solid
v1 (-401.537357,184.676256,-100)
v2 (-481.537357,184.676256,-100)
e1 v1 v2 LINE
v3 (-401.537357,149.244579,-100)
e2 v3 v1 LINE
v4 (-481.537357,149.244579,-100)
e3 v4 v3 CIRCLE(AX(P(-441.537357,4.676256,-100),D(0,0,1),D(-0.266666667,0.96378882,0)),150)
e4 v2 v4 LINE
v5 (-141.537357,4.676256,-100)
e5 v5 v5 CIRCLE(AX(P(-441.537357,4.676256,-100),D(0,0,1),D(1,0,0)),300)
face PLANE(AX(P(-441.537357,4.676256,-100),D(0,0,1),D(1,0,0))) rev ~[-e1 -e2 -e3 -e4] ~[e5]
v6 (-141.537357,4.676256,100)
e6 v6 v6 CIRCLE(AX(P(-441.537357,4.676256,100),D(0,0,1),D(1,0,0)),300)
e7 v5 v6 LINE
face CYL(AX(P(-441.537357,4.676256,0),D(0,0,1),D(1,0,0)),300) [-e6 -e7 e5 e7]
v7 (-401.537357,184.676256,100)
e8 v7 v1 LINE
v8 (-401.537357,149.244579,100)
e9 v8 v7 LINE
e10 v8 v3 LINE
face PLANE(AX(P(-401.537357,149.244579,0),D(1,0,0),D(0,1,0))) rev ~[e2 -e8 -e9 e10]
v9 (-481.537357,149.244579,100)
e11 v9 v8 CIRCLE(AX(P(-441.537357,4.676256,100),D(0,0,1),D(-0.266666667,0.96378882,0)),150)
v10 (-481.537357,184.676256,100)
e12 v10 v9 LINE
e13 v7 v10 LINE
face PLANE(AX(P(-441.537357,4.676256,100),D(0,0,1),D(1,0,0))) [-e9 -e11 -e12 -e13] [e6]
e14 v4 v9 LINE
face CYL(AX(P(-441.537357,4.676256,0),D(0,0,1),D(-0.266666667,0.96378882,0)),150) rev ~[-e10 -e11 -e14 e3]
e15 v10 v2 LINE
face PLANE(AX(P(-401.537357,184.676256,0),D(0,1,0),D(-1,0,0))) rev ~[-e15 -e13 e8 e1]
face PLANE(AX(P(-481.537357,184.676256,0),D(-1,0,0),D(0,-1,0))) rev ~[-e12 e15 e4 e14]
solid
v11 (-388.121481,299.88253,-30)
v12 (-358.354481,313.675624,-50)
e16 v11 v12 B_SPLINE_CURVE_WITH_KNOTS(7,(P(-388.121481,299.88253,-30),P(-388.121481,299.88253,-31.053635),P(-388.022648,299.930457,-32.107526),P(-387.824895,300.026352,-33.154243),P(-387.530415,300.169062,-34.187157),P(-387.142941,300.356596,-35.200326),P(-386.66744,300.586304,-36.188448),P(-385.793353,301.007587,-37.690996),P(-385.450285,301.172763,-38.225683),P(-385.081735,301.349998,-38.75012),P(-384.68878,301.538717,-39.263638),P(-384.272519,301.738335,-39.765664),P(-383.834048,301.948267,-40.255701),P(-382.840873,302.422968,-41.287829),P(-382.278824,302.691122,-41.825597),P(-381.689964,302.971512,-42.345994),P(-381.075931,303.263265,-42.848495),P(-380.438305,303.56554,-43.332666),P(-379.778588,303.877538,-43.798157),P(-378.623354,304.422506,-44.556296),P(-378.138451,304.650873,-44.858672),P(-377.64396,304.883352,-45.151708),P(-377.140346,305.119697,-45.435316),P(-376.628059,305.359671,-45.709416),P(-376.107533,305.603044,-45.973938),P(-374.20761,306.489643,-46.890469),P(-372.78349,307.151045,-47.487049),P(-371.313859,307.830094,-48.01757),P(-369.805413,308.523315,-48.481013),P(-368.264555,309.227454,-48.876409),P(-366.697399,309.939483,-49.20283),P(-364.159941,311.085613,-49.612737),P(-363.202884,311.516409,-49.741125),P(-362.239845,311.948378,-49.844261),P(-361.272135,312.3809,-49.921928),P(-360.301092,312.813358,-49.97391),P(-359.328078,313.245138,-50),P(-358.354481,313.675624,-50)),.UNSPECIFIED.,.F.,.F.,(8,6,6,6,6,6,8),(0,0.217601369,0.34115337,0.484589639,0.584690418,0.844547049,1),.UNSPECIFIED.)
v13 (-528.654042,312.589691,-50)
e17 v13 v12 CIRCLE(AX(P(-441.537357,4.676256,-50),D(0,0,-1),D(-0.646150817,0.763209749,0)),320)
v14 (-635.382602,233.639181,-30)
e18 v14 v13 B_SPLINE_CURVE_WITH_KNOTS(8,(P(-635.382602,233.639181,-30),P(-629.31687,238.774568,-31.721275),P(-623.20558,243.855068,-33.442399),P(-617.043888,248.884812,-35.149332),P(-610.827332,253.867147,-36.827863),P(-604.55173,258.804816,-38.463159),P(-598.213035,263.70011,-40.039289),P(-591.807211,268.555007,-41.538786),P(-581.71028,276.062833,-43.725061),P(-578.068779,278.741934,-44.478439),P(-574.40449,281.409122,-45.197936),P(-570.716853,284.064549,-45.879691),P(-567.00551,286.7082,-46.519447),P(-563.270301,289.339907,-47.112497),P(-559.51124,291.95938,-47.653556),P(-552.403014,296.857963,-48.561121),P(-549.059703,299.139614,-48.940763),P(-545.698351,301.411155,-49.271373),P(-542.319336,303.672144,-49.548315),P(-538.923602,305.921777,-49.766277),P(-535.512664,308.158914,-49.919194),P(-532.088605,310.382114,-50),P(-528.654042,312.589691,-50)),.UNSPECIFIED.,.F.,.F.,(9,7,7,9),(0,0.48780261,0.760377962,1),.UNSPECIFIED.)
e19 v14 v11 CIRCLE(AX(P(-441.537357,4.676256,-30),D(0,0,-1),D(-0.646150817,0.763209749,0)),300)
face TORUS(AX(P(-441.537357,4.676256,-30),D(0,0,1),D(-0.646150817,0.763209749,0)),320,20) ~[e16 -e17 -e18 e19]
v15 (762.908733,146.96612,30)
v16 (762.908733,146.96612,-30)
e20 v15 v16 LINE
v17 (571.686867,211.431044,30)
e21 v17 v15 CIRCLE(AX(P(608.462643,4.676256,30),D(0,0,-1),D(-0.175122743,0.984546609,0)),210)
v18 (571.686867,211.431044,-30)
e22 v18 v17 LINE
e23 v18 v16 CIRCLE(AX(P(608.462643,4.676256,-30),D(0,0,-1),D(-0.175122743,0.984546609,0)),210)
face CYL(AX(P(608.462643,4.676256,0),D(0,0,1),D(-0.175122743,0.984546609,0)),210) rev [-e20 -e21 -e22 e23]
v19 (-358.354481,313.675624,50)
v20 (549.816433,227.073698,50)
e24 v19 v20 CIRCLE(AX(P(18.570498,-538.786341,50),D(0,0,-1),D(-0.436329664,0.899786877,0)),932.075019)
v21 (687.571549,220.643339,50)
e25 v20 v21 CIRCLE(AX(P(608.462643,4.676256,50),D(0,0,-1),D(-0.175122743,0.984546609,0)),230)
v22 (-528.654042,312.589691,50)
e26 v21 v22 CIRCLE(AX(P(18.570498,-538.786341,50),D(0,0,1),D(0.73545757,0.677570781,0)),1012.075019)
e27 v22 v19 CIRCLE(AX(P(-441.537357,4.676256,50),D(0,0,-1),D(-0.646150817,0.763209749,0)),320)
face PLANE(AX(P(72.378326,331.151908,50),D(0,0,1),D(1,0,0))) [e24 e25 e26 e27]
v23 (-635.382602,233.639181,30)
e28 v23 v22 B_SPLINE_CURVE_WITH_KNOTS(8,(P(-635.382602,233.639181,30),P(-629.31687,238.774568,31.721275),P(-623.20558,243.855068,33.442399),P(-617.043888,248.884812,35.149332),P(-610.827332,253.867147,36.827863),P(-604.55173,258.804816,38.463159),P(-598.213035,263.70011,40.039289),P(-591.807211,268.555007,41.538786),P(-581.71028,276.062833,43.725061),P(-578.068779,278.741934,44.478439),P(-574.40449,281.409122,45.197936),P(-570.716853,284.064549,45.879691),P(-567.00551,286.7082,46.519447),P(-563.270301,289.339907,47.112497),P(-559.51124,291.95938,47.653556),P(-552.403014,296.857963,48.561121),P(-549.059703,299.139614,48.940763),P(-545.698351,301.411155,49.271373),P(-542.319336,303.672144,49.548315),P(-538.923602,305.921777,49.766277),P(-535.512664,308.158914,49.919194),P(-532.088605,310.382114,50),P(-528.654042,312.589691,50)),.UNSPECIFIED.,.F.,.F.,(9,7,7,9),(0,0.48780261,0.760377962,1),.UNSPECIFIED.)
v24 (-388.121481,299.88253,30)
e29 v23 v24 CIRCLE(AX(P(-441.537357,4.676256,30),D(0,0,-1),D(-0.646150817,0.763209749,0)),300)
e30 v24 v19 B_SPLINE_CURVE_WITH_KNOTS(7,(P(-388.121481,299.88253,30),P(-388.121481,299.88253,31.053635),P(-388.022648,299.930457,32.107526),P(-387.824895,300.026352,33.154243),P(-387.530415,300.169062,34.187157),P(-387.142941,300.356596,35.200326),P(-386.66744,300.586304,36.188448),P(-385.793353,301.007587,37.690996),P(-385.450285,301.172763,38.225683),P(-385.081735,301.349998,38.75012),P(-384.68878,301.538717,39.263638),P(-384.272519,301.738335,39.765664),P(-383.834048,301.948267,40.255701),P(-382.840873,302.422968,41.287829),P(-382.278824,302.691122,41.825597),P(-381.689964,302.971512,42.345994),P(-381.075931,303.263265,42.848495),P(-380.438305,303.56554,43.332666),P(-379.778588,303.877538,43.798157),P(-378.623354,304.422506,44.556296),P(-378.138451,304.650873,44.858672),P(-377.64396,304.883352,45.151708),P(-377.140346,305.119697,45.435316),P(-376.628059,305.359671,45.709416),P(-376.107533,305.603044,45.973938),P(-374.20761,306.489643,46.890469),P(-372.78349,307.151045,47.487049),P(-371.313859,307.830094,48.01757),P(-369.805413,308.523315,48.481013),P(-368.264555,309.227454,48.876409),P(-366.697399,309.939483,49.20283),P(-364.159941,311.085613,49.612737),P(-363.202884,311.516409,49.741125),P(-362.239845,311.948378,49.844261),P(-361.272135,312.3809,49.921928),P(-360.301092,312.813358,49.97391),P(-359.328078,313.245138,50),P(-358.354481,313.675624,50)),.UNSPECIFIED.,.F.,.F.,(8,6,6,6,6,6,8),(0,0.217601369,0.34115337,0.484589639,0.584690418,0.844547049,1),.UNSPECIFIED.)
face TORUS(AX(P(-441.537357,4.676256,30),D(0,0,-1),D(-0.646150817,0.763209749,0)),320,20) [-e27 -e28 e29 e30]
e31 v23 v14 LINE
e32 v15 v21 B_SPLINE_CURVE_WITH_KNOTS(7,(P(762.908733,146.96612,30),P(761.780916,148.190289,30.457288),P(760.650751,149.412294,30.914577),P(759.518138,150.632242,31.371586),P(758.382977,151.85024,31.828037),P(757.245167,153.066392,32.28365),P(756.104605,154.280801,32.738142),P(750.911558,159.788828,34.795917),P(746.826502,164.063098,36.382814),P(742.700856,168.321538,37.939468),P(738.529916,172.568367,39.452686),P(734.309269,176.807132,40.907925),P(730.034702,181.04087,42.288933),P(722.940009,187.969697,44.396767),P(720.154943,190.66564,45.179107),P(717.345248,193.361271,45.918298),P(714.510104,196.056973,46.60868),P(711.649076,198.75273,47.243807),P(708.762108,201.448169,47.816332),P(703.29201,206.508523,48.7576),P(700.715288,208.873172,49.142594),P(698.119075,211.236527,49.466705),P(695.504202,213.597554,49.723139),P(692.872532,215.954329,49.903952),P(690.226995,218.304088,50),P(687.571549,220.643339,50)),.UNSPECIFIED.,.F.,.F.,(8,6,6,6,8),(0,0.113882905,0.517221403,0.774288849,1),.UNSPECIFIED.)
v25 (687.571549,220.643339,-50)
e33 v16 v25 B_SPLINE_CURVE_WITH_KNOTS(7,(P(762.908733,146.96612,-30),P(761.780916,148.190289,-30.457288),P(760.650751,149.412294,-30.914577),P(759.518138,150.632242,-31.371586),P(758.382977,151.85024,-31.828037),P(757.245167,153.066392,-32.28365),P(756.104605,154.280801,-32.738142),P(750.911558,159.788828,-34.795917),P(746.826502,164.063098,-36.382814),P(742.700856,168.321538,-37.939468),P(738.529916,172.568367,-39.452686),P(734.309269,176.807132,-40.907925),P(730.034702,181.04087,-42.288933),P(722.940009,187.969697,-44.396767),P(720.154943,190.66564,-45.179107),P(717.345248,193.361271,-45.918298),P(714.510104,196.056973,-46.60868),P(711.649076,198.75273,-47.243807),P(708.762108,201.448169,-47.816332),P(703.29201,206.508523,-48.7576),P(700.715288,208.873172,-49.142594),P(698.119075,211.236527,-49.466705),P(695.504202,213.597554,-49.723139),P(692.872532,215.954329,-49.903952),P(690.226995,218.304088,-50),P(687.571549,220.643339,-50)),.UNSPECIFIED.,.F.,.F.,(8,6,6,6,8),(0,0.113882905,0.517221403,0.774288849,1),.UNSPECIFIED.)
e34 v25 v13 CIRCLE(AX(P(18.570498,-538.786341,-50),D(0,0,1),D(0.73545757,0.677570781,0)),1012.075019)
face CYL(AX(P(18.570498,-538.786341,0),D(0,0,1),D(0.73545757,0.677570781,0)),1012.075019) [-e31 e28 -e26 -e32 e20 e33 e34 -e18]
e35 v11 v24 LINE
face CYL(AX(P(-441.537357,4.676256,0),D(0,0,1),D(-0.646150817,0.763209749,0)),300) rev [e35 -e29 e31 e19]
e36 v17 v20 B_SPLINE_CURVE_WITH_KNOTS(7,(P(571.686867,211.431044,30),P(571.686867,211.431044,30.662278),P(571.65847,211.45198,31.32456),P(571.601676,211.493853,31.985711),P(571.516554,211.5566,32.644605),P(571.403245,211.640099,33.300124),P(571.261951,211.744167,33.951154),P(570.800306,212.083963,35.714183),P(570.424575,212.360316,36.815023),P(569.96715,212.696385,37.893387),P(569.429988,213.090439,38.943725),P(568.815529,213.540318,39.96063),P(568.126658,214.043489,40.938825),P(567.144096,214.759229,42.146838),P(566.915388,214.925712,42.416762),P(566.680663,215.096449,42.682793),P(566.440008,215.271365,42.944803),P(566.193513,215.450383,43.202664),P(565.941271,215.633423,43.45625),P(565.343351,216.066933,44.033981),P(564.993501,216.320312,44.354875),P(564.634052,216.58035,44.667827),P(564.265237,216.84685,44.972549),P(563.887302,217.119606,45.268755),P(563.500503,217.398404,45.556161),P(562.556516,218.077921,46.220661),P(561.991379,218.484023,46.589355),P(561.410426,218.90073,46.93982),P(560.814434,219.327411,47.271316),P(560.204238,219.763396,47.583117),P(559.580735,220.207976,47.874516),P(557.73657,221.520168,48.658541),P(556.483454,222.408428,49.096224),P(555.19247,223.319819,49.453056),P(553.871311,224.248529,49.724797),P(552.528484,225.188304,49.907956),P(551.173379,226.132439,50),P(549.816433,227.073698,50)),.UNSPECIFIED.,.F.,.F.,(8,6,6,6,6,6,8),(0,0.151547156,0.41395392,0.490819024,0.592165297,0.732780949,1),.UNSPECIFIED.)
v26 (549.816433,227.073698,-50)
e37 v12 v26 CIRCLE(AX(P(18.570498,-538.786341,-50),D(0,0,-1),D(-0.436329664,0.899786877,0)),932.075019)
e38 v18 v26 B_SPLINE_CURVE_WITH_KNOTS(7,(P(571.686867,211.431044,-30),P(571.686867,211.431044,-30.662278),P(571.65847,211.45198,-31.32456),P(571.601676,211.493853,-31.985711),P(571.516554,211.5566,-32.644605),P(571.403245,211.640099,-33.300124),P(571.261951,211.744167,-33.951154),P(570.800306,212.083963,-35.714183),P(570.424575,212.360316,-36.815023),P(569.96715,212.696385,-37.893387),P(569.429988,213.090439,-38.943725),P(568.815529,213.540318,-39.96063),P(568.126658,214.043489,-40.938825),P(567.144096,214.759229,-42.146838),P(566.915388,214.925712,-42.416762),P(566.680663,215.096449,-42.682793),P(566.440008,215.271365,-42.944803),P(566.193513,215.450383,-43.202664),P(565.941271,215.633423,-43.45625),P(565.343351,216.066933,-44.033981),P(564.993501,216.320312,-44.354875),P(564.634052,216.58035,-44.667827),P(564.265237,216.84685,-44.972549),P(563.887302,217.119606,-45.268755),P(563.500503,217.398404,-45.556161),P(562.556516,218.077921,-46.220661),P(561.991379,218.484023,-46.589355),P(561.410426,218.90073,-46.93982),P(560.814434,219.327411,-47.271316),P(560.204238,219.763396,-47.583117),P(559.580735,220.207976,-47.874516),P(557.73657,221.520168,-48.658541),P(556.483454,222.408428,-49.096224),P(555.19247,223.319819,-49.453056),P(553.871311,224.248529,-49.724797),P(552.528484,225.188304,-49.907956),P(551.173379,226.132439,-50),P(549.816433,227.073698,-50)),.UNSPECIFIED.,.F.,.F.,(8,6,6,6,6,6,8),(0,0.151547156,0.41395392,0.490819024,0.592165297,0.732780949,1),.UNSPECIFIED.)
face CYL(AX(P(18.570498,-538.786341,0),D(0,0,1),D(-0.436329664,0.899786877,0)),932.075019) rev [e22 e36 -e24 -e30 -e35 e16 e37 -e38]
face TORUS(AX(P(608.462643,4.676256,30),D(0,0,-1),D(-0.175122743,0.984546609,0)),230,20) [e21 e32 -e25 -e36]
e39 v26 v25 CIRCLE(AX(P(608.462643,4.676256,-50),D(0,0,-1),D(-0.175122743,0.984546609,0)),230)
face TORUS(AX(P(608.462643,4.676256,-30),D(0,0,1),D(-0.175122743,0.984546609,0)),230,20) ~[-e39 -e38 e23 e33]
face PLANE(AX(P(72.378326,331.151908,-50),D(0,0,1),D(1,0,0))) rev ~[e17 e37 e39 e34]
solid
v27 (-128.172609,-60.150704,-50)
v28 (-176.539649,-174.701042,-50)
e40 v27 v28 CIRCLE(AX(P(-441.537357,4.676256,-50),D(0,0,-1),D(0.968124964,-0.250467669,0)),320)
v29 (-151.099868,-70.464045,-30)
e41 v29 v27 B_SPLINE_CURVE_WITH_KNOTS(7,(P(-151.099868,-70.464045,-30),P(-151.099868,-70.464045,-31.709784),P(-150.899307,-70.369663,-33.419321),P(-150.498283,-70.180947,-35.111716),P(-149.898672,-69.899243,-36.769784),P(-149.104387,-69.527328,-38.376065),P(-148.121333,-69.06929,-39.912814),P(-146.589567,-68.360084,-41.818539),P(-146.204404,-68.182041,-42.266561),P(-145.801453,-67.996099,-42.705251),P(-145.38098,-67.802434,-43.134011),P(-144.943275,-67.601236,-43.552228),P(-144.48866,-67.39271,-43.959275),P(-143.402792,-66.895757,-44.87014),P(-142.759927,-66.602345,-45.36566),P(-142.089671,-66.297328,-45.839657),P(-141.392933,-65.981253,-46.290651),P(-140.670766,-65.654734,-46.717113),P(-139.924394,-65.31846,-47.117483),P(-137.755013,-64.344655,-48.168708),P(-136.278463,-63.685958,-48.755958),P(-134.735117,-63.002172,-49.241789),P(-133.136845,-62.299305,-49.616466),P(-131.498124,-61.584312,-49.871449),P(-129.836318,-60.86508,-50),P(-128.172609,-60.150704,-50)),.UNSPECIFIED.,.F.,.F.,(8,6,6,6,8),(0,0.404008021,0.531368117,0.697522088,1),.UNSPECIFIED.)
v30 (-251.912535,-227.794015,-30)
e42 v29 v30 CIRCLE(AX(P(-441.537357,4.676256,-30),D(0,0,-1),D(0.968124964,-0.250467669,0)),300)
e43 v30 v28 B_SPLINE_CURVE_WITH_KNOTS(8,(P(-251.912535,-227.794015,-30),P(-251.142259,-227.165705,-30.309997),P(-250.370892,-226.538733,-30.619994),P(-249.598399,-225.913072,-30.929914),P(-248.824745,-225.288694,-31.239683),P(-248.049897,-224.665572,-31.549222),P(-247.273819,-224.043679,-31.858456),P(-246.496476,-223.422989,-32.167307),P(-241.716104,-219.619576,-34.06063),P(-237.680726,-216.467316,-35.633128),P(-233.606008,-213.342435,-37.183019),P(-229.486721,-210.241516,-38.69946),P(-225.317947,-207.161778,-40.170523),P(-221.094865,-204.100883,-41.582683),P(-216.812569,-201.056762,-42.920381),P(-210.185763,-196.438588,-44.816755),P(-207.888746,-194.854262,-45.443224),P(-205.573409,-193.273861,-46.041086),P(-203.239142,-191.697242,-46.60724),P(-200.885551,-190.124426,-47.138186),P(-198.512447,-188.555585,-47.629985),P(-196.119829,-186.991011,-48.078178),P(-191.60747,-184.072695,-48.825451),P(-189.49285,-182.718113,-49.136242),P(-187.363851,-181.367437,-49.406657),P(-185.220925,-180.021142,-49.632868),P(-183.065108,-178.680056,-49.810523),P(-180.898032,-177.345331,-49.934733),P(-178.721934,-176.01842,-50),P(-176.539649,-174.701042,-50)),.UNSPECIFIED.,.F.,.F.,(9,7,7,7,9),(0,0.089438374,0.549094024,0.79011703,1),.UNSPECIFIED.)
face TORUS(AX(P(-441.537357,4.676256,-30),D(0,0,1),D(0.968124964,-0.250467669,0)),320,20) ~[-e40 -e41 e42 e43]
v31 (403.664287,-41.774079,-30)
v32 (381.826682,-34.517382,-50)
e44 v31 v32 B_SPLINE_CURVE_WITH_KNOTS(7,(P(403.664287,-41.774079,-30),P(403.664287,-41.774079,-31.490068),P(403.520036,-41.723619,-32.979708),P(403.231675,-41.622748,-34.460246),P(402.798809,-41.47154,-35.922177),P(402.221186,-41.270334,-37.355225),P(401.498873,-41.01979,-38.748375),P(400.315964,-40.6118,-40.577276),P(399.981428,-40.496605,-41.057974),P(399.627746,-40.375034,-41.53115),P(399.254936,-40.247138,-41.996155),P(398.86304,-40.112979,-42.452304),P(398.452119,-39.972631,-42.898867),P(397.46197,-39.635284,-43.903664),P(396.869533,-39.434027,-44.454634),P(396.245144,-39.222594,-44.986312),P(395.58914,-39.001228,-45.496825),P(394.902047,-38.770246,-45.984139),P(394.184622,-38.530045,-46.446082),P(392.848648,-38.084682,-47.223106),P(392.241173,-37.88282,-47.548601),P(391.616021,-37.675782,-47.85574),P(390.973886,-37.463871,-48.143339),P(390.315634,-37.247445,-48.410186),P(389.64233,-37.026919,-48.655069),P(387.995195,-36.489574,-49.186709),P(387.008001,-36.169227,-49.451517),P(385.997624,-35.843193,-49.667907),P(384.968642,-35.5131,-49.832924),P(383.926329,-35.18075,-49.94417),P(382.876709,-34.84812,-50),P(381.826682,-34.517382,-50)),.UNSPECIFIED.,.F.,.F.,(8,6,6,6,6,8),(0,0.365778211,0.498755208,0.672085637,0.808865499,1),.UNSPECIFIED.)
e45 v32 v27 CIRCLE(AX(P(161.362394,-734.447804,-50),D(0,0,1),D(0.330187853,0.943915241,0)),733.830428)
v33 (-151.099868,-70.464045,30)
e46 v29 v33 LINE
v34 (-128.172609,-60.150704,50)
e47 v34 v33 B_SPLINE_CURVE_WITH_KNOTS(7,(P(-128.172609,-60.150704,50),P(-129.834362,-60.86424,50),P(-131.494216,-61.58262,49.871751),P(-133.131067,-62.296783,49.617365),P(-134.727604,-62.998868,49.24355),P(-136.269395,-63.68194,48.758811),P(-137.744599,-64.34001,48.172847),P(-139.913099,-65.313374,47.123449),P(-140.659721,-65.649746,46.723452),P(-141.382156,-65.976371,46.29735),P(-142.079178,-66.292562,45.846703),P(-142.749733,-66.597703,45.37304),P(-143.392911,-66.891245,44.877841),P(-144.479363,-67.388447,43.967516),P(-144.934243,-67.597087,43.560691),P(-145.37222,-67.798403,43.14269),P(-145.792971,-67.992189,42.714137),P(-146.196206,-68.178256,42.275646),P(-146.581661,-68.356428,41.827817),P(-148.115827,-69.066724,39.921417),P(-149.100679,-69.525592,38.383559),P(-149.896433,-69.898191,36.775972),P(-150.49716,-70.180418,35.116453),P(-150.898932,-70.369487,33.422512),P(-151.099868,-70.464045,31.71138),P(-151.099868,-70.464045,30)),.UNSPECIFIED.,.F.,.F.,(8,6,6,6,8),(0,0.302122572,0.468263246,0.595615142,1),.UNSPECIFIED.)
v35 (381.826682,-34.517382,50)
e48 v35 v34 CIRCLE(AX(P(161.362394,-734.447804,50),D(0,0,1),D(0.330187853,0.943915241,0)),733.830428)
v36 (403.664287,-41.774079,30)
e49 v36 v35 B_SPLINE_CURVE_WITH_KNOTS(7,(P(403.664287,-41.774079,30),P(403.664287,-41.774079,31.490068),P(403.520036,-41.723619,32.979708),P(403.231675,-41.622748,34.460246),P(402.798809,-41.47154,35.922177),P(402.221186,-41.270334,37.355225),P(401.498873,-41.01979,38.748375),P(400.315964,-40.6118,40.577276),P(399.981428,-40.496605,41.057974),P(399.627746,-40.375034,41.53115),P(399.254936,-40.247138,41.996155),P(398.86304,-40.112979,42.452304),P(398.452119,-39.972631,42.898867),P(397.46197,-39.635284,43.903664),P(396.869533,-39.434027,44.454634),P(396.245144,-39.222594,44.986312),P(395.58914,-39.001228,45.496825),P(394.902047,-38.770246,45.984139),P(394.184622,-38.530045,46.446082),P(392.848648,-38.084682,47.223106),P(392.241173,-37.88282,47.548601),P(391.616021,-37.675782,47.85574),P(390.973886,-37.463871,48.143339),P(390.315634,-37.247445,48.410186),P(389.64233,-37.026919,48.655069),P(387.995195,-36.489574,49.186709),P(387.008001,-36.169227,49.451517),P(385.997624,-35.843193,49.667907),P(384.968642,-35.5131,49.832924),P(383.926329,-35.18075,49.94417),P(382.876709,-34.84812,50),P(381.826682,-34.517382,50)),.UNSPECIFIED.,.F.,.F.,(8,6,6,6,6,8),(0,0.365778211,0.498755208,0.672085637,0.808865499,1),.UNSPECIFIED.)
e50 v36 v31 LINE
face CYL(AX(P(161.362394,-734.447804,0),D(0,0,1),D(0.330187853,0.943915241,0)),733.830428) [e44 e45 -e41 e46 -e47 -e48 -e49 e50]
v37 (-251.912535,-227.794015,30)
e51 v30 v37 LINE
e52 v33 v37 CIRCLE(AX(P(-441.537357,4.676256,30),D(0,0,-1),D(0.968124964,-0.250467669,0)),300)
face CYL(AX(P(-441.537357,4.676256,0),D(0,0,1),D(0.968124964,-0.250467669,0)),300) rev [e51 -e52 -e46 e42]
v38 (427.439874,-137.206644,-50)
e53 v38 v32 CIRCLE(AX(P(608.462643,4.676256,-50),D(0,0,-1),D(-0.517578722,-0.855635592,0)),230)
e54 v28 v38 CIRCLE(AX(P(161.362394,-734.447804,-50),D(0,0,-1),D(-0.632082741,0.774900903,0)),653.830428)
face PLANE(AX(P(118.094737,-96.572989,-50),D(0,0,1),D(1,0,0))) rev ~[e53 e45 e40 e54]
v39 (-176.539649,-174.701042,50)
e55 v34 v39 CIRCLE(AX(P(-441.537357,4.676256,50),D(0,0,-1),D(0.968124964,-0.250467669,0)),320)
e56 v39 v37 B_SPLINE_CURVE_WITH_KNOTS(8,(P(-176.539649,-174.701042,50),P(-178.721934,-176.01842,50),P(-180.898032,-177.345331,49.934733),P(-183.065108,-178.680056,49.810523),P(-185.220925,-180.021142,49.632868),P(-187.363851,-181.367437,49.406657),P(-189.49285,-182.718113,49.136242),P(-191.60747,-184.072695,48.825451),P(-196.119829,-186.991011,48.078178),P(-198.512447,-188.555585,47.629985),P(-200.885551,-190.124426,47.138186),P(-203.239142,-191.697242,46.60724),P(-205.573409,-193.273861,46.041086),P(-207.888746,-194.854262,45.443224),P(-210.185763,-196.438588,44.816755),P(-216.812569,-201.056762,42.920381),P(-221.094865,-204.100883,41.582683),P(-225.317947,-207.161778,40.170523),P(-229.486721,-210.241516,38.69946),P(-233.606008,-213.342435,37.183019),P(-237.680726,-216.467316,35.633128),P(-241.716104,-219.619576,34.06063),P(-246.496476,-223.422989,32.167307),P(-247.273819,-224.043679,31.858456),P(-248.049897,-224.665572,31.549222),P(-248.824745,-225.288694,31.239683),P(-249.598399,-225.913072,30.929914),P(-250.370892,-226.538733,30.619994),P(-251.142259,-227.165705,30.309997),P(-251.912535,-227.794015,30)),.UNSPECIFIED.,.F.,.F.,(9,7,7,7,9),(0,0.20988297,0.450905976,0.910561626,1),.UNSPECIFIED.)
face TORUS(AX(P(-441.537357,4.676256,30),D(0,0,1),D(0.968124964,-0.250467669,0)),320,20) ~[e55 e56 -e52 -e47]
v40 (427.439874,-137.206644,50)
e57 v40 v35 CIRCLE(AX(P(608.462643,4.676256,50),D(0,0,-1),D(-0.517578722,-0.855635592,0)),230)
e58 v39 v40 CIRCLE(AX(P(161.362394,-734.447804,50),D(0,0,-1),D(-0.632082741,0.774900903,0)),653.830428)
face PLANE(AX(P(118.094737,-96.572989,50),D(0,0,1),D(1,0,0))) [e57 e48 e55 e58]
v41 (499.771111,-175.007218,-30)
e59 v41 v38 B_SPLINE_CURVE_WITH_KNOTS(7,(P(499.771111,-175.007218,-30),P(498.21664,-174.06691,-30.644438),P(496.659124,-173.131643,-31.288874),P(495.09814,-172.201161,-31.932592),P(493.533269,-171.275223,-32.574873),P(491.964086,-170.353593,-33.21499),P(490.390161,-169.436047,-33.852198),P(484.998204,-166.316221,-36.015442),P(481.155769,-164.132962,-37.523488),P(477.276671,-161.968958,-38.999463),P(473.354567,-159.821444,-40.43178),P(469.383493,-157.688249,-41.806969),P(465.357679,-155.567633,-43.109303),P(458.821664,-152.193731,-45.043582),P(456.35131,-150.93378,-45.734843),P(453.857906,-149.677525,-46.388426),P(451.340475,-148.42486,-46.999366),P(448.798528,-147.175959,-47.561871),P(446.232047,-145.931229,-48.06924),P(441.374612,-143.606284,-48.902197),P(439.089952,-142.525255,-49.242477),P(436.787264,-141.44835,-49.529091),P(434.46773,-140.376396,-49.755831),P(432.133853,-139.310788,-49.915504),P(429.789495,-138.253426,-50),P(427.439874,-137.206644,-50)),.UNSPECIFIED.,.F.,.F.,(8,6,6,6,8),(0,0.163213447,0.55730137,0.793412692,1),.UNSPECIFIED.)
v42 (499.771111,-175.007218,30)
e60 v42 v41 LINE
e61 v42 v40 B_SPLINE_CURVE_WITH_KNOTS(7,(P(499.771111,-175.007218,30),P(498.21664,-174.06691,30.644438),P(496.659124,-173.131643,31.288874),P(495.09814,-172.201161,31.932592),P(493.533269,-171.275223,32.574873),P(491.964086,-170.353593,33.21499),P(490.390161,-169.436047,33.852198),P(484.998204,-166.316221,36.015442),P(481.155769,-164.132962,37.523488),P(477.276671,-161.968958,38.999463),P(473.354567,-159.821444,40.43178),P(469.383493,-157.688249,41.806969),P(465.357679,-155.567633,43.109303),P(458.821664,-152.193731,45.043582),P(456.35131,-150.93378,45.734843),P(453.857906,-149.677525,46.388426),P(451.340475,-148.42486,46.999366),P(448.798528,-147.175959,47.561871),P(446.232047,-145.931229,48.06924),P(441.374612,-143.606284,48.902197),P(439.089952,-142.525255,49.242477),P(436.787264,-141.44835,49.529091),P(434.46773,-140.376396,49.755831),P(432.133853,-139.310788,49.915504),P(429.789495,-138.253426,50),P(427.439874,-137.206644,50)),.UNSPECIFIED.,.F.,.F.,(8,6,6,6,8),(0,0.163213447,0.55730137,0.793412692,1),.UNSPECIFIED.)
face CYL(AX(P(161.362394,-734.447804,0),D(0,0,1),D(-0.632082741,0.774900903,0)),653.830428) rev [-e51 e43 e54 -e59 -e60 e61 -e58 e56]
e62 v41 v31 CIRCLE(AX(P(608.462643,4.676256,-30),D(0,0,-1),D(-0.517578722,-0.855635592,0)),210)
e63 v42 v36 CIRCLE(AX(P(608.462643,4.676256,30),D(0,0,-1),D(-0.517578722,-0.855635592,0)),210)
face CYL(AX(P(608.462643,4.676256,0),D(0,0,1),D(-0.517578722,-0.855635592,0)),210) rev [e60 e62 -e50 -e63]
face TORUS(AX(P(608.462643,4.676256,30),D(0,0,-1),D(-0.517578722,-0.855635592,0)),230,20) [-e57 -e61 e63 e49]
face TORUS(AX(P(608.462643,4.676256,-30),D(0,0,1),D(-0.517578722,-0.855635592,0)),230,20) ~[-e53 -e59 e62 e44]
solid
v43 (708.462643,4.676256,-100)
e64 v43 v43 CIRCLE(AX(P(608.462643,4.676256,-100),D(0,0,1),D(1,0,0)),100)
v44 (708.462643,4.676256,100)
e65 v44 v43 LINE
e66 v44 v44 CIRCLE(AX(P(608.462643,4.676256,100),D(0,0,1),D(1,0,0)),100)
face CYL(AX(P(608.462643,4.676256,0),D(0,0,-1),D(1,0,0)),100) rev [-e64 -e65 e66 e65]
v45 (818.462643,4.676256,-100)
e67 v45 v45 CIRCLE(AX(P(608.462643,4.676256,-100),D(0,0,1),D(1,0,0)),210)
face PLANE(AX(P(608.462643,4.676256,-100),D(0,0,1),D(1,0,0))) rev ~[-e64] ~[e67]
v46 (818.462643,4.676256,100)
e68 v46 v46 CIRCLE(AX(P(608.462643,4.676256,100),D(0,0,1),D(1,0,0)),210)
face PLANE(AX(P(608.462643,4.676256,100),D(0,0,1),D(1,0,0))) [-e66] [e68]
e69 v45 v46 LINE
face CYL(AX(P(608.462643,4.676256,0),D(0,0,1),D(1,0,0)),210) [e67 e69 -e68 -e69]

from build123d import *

# Parameters (mm, degrees)
IZIM1_R                       = 300
Y_KSEKLIK_EKSTR_ZYON1_DEPTH   = 100
IZIM1_R_2                     = 210
IZIM1_R_3                     = 100
Y_KSEKLIK_EKSTR_ZYON1_2_DEPTH = 100
Y_KSEKLIK_EKSTR_ZYON2_DEPTH   = 50
Y_KSEKLIK_EKSTR_ZYON2_2_DEPTH = 50
RADYUS1_R                     = 20
RADYUS2_R                     = 20


with BuildPart() as part:
    # Çizim1 → Yükseklik-Ekstrüzyon1 (new, symmetric)
    with BuildSketch(Plane.XY):
        with Locations((-441.537357111, 4.676255954)):
            Circle(IZIM1_R)
        with BuildLine():
            Line((-481.537357111, 149.244578902), (-481.537357111, 184.676255954))
            Line((-481.537357111, 184.676255954), (-401.537357111, 184.676255954))
            Line((-401.537357111, 184.676255954), (-401.537357111, 149.244578902))
            ThreePointArc((-401.537357111, 149.244578902), (-441.537357111, -145.323744046), (-481.537357111, 149.244578902))
        make_face(mode=Mode.SUBTRACT)
    extrude(amount=Y_KSEKLIK_EKSTR_ZYON1_DEPTH, both=True)


with BuildPart() as body_2:
    # Çizim1 → Y_kseklik-Ekstr_zyon1 2 (new, symmetric)
    with BuildSketch(Plane.XY):
        with Locations((608.462642889, 4.676255954)):
            Circle(IZIM1_R_2)
        with Locations((608.462642889, 4.676255954)):
            Circle(IZIM1_R_3, mode=Mode.SUBTRACT)
    extrude(amount=Y_KSEKLIK_EKSTR_ZYON1_2_DEPTH, both=True)


with BuildPart() as body_3:
    # Çizim1<3> → Yükseklik-Ekstrüzyon2 (new, symmetric)
    with BuildSketch(Plane.XY):
        with BuildLine():
            ThreePointArc((-635.382602288, 233.639180731), (-519.172061184, 294.456953592), (-388.121481329, 299.882529963))
            ThreePointArc((-388.121481329, 299.882529963), (104.103777024, 389.355835491), (571.686866818, 211.431043793))
            ThreePointArc((571.686866818, 211.431043793), (675.548463161, 203.672468778), (762.908732593, 146.966119876))
            ThreePointArc((762.908732593, 146.966119876), (81.183779413, 471.349997153), (-635.382602288, 233.639180731))
        make_face()
    extrude(amount=Y_KSEKLIK_EKSTR_ZYON2_DEPTH, both=True)

    # Radyus1
    radyus1_edges = [body_3.edges().sort_by_distance(p)[0] for p in [
        (675.548463161, 203.672468778, -50),
        (675.548463161, 203.672468778, 50),
        (-519.172061184, 294.456953592, -50),
        (-519.172061184, 294.456953592, 50),
    ]]
    fillet(radyus1_edges, radius=RADYUS1_R)


with BuildPart() as body_4:
    # Çizim1<3> → Y_kseklik-Ekstr_zyon2 2 (new, symmetric)
    with BuildSketch(Plane.XY):
        with BuildLine():
            ThreePointArc((403.664287394, -41.774078669), (123.462554094, -1.596728042), (-151.099867808, -70.464044867))
            ThreePointArc((-151.099867808, -70.464044867), (-188.944531424, -157.178198453), (-251.912534947, -227.794014875))
            ThreePointArc((-251.912534947, -227.794014875), (115.560113638, -82.223624751), (499.771111256, -175.007218387))
            ThreePointArc((499.771111256, -175.007218387), (438.148977222, -118.178354409), (403.664287394, -41.774078669))
        make_face()
    extrude(amount=Y_KSEKLIK_EKSTR_ZYON2_2_DEPTH, both=True)

    # Radyus2
    radyus2_edges = [body_4.edges().sort_by_distance(p)[0] for p in [
        (438.148977222, -118.178354409, 50),
        (438.148977222, -118.178354409, -50),
        (-188.944531424, -157.178198453, -50),
        (-188.944531424, -157.178198453, 50),
    ]]
    fillet(radyus2_edges, radius=RADYUS2_R)


solid = Compound([part.part, body_2.part, body_3.part, body_4.part])
